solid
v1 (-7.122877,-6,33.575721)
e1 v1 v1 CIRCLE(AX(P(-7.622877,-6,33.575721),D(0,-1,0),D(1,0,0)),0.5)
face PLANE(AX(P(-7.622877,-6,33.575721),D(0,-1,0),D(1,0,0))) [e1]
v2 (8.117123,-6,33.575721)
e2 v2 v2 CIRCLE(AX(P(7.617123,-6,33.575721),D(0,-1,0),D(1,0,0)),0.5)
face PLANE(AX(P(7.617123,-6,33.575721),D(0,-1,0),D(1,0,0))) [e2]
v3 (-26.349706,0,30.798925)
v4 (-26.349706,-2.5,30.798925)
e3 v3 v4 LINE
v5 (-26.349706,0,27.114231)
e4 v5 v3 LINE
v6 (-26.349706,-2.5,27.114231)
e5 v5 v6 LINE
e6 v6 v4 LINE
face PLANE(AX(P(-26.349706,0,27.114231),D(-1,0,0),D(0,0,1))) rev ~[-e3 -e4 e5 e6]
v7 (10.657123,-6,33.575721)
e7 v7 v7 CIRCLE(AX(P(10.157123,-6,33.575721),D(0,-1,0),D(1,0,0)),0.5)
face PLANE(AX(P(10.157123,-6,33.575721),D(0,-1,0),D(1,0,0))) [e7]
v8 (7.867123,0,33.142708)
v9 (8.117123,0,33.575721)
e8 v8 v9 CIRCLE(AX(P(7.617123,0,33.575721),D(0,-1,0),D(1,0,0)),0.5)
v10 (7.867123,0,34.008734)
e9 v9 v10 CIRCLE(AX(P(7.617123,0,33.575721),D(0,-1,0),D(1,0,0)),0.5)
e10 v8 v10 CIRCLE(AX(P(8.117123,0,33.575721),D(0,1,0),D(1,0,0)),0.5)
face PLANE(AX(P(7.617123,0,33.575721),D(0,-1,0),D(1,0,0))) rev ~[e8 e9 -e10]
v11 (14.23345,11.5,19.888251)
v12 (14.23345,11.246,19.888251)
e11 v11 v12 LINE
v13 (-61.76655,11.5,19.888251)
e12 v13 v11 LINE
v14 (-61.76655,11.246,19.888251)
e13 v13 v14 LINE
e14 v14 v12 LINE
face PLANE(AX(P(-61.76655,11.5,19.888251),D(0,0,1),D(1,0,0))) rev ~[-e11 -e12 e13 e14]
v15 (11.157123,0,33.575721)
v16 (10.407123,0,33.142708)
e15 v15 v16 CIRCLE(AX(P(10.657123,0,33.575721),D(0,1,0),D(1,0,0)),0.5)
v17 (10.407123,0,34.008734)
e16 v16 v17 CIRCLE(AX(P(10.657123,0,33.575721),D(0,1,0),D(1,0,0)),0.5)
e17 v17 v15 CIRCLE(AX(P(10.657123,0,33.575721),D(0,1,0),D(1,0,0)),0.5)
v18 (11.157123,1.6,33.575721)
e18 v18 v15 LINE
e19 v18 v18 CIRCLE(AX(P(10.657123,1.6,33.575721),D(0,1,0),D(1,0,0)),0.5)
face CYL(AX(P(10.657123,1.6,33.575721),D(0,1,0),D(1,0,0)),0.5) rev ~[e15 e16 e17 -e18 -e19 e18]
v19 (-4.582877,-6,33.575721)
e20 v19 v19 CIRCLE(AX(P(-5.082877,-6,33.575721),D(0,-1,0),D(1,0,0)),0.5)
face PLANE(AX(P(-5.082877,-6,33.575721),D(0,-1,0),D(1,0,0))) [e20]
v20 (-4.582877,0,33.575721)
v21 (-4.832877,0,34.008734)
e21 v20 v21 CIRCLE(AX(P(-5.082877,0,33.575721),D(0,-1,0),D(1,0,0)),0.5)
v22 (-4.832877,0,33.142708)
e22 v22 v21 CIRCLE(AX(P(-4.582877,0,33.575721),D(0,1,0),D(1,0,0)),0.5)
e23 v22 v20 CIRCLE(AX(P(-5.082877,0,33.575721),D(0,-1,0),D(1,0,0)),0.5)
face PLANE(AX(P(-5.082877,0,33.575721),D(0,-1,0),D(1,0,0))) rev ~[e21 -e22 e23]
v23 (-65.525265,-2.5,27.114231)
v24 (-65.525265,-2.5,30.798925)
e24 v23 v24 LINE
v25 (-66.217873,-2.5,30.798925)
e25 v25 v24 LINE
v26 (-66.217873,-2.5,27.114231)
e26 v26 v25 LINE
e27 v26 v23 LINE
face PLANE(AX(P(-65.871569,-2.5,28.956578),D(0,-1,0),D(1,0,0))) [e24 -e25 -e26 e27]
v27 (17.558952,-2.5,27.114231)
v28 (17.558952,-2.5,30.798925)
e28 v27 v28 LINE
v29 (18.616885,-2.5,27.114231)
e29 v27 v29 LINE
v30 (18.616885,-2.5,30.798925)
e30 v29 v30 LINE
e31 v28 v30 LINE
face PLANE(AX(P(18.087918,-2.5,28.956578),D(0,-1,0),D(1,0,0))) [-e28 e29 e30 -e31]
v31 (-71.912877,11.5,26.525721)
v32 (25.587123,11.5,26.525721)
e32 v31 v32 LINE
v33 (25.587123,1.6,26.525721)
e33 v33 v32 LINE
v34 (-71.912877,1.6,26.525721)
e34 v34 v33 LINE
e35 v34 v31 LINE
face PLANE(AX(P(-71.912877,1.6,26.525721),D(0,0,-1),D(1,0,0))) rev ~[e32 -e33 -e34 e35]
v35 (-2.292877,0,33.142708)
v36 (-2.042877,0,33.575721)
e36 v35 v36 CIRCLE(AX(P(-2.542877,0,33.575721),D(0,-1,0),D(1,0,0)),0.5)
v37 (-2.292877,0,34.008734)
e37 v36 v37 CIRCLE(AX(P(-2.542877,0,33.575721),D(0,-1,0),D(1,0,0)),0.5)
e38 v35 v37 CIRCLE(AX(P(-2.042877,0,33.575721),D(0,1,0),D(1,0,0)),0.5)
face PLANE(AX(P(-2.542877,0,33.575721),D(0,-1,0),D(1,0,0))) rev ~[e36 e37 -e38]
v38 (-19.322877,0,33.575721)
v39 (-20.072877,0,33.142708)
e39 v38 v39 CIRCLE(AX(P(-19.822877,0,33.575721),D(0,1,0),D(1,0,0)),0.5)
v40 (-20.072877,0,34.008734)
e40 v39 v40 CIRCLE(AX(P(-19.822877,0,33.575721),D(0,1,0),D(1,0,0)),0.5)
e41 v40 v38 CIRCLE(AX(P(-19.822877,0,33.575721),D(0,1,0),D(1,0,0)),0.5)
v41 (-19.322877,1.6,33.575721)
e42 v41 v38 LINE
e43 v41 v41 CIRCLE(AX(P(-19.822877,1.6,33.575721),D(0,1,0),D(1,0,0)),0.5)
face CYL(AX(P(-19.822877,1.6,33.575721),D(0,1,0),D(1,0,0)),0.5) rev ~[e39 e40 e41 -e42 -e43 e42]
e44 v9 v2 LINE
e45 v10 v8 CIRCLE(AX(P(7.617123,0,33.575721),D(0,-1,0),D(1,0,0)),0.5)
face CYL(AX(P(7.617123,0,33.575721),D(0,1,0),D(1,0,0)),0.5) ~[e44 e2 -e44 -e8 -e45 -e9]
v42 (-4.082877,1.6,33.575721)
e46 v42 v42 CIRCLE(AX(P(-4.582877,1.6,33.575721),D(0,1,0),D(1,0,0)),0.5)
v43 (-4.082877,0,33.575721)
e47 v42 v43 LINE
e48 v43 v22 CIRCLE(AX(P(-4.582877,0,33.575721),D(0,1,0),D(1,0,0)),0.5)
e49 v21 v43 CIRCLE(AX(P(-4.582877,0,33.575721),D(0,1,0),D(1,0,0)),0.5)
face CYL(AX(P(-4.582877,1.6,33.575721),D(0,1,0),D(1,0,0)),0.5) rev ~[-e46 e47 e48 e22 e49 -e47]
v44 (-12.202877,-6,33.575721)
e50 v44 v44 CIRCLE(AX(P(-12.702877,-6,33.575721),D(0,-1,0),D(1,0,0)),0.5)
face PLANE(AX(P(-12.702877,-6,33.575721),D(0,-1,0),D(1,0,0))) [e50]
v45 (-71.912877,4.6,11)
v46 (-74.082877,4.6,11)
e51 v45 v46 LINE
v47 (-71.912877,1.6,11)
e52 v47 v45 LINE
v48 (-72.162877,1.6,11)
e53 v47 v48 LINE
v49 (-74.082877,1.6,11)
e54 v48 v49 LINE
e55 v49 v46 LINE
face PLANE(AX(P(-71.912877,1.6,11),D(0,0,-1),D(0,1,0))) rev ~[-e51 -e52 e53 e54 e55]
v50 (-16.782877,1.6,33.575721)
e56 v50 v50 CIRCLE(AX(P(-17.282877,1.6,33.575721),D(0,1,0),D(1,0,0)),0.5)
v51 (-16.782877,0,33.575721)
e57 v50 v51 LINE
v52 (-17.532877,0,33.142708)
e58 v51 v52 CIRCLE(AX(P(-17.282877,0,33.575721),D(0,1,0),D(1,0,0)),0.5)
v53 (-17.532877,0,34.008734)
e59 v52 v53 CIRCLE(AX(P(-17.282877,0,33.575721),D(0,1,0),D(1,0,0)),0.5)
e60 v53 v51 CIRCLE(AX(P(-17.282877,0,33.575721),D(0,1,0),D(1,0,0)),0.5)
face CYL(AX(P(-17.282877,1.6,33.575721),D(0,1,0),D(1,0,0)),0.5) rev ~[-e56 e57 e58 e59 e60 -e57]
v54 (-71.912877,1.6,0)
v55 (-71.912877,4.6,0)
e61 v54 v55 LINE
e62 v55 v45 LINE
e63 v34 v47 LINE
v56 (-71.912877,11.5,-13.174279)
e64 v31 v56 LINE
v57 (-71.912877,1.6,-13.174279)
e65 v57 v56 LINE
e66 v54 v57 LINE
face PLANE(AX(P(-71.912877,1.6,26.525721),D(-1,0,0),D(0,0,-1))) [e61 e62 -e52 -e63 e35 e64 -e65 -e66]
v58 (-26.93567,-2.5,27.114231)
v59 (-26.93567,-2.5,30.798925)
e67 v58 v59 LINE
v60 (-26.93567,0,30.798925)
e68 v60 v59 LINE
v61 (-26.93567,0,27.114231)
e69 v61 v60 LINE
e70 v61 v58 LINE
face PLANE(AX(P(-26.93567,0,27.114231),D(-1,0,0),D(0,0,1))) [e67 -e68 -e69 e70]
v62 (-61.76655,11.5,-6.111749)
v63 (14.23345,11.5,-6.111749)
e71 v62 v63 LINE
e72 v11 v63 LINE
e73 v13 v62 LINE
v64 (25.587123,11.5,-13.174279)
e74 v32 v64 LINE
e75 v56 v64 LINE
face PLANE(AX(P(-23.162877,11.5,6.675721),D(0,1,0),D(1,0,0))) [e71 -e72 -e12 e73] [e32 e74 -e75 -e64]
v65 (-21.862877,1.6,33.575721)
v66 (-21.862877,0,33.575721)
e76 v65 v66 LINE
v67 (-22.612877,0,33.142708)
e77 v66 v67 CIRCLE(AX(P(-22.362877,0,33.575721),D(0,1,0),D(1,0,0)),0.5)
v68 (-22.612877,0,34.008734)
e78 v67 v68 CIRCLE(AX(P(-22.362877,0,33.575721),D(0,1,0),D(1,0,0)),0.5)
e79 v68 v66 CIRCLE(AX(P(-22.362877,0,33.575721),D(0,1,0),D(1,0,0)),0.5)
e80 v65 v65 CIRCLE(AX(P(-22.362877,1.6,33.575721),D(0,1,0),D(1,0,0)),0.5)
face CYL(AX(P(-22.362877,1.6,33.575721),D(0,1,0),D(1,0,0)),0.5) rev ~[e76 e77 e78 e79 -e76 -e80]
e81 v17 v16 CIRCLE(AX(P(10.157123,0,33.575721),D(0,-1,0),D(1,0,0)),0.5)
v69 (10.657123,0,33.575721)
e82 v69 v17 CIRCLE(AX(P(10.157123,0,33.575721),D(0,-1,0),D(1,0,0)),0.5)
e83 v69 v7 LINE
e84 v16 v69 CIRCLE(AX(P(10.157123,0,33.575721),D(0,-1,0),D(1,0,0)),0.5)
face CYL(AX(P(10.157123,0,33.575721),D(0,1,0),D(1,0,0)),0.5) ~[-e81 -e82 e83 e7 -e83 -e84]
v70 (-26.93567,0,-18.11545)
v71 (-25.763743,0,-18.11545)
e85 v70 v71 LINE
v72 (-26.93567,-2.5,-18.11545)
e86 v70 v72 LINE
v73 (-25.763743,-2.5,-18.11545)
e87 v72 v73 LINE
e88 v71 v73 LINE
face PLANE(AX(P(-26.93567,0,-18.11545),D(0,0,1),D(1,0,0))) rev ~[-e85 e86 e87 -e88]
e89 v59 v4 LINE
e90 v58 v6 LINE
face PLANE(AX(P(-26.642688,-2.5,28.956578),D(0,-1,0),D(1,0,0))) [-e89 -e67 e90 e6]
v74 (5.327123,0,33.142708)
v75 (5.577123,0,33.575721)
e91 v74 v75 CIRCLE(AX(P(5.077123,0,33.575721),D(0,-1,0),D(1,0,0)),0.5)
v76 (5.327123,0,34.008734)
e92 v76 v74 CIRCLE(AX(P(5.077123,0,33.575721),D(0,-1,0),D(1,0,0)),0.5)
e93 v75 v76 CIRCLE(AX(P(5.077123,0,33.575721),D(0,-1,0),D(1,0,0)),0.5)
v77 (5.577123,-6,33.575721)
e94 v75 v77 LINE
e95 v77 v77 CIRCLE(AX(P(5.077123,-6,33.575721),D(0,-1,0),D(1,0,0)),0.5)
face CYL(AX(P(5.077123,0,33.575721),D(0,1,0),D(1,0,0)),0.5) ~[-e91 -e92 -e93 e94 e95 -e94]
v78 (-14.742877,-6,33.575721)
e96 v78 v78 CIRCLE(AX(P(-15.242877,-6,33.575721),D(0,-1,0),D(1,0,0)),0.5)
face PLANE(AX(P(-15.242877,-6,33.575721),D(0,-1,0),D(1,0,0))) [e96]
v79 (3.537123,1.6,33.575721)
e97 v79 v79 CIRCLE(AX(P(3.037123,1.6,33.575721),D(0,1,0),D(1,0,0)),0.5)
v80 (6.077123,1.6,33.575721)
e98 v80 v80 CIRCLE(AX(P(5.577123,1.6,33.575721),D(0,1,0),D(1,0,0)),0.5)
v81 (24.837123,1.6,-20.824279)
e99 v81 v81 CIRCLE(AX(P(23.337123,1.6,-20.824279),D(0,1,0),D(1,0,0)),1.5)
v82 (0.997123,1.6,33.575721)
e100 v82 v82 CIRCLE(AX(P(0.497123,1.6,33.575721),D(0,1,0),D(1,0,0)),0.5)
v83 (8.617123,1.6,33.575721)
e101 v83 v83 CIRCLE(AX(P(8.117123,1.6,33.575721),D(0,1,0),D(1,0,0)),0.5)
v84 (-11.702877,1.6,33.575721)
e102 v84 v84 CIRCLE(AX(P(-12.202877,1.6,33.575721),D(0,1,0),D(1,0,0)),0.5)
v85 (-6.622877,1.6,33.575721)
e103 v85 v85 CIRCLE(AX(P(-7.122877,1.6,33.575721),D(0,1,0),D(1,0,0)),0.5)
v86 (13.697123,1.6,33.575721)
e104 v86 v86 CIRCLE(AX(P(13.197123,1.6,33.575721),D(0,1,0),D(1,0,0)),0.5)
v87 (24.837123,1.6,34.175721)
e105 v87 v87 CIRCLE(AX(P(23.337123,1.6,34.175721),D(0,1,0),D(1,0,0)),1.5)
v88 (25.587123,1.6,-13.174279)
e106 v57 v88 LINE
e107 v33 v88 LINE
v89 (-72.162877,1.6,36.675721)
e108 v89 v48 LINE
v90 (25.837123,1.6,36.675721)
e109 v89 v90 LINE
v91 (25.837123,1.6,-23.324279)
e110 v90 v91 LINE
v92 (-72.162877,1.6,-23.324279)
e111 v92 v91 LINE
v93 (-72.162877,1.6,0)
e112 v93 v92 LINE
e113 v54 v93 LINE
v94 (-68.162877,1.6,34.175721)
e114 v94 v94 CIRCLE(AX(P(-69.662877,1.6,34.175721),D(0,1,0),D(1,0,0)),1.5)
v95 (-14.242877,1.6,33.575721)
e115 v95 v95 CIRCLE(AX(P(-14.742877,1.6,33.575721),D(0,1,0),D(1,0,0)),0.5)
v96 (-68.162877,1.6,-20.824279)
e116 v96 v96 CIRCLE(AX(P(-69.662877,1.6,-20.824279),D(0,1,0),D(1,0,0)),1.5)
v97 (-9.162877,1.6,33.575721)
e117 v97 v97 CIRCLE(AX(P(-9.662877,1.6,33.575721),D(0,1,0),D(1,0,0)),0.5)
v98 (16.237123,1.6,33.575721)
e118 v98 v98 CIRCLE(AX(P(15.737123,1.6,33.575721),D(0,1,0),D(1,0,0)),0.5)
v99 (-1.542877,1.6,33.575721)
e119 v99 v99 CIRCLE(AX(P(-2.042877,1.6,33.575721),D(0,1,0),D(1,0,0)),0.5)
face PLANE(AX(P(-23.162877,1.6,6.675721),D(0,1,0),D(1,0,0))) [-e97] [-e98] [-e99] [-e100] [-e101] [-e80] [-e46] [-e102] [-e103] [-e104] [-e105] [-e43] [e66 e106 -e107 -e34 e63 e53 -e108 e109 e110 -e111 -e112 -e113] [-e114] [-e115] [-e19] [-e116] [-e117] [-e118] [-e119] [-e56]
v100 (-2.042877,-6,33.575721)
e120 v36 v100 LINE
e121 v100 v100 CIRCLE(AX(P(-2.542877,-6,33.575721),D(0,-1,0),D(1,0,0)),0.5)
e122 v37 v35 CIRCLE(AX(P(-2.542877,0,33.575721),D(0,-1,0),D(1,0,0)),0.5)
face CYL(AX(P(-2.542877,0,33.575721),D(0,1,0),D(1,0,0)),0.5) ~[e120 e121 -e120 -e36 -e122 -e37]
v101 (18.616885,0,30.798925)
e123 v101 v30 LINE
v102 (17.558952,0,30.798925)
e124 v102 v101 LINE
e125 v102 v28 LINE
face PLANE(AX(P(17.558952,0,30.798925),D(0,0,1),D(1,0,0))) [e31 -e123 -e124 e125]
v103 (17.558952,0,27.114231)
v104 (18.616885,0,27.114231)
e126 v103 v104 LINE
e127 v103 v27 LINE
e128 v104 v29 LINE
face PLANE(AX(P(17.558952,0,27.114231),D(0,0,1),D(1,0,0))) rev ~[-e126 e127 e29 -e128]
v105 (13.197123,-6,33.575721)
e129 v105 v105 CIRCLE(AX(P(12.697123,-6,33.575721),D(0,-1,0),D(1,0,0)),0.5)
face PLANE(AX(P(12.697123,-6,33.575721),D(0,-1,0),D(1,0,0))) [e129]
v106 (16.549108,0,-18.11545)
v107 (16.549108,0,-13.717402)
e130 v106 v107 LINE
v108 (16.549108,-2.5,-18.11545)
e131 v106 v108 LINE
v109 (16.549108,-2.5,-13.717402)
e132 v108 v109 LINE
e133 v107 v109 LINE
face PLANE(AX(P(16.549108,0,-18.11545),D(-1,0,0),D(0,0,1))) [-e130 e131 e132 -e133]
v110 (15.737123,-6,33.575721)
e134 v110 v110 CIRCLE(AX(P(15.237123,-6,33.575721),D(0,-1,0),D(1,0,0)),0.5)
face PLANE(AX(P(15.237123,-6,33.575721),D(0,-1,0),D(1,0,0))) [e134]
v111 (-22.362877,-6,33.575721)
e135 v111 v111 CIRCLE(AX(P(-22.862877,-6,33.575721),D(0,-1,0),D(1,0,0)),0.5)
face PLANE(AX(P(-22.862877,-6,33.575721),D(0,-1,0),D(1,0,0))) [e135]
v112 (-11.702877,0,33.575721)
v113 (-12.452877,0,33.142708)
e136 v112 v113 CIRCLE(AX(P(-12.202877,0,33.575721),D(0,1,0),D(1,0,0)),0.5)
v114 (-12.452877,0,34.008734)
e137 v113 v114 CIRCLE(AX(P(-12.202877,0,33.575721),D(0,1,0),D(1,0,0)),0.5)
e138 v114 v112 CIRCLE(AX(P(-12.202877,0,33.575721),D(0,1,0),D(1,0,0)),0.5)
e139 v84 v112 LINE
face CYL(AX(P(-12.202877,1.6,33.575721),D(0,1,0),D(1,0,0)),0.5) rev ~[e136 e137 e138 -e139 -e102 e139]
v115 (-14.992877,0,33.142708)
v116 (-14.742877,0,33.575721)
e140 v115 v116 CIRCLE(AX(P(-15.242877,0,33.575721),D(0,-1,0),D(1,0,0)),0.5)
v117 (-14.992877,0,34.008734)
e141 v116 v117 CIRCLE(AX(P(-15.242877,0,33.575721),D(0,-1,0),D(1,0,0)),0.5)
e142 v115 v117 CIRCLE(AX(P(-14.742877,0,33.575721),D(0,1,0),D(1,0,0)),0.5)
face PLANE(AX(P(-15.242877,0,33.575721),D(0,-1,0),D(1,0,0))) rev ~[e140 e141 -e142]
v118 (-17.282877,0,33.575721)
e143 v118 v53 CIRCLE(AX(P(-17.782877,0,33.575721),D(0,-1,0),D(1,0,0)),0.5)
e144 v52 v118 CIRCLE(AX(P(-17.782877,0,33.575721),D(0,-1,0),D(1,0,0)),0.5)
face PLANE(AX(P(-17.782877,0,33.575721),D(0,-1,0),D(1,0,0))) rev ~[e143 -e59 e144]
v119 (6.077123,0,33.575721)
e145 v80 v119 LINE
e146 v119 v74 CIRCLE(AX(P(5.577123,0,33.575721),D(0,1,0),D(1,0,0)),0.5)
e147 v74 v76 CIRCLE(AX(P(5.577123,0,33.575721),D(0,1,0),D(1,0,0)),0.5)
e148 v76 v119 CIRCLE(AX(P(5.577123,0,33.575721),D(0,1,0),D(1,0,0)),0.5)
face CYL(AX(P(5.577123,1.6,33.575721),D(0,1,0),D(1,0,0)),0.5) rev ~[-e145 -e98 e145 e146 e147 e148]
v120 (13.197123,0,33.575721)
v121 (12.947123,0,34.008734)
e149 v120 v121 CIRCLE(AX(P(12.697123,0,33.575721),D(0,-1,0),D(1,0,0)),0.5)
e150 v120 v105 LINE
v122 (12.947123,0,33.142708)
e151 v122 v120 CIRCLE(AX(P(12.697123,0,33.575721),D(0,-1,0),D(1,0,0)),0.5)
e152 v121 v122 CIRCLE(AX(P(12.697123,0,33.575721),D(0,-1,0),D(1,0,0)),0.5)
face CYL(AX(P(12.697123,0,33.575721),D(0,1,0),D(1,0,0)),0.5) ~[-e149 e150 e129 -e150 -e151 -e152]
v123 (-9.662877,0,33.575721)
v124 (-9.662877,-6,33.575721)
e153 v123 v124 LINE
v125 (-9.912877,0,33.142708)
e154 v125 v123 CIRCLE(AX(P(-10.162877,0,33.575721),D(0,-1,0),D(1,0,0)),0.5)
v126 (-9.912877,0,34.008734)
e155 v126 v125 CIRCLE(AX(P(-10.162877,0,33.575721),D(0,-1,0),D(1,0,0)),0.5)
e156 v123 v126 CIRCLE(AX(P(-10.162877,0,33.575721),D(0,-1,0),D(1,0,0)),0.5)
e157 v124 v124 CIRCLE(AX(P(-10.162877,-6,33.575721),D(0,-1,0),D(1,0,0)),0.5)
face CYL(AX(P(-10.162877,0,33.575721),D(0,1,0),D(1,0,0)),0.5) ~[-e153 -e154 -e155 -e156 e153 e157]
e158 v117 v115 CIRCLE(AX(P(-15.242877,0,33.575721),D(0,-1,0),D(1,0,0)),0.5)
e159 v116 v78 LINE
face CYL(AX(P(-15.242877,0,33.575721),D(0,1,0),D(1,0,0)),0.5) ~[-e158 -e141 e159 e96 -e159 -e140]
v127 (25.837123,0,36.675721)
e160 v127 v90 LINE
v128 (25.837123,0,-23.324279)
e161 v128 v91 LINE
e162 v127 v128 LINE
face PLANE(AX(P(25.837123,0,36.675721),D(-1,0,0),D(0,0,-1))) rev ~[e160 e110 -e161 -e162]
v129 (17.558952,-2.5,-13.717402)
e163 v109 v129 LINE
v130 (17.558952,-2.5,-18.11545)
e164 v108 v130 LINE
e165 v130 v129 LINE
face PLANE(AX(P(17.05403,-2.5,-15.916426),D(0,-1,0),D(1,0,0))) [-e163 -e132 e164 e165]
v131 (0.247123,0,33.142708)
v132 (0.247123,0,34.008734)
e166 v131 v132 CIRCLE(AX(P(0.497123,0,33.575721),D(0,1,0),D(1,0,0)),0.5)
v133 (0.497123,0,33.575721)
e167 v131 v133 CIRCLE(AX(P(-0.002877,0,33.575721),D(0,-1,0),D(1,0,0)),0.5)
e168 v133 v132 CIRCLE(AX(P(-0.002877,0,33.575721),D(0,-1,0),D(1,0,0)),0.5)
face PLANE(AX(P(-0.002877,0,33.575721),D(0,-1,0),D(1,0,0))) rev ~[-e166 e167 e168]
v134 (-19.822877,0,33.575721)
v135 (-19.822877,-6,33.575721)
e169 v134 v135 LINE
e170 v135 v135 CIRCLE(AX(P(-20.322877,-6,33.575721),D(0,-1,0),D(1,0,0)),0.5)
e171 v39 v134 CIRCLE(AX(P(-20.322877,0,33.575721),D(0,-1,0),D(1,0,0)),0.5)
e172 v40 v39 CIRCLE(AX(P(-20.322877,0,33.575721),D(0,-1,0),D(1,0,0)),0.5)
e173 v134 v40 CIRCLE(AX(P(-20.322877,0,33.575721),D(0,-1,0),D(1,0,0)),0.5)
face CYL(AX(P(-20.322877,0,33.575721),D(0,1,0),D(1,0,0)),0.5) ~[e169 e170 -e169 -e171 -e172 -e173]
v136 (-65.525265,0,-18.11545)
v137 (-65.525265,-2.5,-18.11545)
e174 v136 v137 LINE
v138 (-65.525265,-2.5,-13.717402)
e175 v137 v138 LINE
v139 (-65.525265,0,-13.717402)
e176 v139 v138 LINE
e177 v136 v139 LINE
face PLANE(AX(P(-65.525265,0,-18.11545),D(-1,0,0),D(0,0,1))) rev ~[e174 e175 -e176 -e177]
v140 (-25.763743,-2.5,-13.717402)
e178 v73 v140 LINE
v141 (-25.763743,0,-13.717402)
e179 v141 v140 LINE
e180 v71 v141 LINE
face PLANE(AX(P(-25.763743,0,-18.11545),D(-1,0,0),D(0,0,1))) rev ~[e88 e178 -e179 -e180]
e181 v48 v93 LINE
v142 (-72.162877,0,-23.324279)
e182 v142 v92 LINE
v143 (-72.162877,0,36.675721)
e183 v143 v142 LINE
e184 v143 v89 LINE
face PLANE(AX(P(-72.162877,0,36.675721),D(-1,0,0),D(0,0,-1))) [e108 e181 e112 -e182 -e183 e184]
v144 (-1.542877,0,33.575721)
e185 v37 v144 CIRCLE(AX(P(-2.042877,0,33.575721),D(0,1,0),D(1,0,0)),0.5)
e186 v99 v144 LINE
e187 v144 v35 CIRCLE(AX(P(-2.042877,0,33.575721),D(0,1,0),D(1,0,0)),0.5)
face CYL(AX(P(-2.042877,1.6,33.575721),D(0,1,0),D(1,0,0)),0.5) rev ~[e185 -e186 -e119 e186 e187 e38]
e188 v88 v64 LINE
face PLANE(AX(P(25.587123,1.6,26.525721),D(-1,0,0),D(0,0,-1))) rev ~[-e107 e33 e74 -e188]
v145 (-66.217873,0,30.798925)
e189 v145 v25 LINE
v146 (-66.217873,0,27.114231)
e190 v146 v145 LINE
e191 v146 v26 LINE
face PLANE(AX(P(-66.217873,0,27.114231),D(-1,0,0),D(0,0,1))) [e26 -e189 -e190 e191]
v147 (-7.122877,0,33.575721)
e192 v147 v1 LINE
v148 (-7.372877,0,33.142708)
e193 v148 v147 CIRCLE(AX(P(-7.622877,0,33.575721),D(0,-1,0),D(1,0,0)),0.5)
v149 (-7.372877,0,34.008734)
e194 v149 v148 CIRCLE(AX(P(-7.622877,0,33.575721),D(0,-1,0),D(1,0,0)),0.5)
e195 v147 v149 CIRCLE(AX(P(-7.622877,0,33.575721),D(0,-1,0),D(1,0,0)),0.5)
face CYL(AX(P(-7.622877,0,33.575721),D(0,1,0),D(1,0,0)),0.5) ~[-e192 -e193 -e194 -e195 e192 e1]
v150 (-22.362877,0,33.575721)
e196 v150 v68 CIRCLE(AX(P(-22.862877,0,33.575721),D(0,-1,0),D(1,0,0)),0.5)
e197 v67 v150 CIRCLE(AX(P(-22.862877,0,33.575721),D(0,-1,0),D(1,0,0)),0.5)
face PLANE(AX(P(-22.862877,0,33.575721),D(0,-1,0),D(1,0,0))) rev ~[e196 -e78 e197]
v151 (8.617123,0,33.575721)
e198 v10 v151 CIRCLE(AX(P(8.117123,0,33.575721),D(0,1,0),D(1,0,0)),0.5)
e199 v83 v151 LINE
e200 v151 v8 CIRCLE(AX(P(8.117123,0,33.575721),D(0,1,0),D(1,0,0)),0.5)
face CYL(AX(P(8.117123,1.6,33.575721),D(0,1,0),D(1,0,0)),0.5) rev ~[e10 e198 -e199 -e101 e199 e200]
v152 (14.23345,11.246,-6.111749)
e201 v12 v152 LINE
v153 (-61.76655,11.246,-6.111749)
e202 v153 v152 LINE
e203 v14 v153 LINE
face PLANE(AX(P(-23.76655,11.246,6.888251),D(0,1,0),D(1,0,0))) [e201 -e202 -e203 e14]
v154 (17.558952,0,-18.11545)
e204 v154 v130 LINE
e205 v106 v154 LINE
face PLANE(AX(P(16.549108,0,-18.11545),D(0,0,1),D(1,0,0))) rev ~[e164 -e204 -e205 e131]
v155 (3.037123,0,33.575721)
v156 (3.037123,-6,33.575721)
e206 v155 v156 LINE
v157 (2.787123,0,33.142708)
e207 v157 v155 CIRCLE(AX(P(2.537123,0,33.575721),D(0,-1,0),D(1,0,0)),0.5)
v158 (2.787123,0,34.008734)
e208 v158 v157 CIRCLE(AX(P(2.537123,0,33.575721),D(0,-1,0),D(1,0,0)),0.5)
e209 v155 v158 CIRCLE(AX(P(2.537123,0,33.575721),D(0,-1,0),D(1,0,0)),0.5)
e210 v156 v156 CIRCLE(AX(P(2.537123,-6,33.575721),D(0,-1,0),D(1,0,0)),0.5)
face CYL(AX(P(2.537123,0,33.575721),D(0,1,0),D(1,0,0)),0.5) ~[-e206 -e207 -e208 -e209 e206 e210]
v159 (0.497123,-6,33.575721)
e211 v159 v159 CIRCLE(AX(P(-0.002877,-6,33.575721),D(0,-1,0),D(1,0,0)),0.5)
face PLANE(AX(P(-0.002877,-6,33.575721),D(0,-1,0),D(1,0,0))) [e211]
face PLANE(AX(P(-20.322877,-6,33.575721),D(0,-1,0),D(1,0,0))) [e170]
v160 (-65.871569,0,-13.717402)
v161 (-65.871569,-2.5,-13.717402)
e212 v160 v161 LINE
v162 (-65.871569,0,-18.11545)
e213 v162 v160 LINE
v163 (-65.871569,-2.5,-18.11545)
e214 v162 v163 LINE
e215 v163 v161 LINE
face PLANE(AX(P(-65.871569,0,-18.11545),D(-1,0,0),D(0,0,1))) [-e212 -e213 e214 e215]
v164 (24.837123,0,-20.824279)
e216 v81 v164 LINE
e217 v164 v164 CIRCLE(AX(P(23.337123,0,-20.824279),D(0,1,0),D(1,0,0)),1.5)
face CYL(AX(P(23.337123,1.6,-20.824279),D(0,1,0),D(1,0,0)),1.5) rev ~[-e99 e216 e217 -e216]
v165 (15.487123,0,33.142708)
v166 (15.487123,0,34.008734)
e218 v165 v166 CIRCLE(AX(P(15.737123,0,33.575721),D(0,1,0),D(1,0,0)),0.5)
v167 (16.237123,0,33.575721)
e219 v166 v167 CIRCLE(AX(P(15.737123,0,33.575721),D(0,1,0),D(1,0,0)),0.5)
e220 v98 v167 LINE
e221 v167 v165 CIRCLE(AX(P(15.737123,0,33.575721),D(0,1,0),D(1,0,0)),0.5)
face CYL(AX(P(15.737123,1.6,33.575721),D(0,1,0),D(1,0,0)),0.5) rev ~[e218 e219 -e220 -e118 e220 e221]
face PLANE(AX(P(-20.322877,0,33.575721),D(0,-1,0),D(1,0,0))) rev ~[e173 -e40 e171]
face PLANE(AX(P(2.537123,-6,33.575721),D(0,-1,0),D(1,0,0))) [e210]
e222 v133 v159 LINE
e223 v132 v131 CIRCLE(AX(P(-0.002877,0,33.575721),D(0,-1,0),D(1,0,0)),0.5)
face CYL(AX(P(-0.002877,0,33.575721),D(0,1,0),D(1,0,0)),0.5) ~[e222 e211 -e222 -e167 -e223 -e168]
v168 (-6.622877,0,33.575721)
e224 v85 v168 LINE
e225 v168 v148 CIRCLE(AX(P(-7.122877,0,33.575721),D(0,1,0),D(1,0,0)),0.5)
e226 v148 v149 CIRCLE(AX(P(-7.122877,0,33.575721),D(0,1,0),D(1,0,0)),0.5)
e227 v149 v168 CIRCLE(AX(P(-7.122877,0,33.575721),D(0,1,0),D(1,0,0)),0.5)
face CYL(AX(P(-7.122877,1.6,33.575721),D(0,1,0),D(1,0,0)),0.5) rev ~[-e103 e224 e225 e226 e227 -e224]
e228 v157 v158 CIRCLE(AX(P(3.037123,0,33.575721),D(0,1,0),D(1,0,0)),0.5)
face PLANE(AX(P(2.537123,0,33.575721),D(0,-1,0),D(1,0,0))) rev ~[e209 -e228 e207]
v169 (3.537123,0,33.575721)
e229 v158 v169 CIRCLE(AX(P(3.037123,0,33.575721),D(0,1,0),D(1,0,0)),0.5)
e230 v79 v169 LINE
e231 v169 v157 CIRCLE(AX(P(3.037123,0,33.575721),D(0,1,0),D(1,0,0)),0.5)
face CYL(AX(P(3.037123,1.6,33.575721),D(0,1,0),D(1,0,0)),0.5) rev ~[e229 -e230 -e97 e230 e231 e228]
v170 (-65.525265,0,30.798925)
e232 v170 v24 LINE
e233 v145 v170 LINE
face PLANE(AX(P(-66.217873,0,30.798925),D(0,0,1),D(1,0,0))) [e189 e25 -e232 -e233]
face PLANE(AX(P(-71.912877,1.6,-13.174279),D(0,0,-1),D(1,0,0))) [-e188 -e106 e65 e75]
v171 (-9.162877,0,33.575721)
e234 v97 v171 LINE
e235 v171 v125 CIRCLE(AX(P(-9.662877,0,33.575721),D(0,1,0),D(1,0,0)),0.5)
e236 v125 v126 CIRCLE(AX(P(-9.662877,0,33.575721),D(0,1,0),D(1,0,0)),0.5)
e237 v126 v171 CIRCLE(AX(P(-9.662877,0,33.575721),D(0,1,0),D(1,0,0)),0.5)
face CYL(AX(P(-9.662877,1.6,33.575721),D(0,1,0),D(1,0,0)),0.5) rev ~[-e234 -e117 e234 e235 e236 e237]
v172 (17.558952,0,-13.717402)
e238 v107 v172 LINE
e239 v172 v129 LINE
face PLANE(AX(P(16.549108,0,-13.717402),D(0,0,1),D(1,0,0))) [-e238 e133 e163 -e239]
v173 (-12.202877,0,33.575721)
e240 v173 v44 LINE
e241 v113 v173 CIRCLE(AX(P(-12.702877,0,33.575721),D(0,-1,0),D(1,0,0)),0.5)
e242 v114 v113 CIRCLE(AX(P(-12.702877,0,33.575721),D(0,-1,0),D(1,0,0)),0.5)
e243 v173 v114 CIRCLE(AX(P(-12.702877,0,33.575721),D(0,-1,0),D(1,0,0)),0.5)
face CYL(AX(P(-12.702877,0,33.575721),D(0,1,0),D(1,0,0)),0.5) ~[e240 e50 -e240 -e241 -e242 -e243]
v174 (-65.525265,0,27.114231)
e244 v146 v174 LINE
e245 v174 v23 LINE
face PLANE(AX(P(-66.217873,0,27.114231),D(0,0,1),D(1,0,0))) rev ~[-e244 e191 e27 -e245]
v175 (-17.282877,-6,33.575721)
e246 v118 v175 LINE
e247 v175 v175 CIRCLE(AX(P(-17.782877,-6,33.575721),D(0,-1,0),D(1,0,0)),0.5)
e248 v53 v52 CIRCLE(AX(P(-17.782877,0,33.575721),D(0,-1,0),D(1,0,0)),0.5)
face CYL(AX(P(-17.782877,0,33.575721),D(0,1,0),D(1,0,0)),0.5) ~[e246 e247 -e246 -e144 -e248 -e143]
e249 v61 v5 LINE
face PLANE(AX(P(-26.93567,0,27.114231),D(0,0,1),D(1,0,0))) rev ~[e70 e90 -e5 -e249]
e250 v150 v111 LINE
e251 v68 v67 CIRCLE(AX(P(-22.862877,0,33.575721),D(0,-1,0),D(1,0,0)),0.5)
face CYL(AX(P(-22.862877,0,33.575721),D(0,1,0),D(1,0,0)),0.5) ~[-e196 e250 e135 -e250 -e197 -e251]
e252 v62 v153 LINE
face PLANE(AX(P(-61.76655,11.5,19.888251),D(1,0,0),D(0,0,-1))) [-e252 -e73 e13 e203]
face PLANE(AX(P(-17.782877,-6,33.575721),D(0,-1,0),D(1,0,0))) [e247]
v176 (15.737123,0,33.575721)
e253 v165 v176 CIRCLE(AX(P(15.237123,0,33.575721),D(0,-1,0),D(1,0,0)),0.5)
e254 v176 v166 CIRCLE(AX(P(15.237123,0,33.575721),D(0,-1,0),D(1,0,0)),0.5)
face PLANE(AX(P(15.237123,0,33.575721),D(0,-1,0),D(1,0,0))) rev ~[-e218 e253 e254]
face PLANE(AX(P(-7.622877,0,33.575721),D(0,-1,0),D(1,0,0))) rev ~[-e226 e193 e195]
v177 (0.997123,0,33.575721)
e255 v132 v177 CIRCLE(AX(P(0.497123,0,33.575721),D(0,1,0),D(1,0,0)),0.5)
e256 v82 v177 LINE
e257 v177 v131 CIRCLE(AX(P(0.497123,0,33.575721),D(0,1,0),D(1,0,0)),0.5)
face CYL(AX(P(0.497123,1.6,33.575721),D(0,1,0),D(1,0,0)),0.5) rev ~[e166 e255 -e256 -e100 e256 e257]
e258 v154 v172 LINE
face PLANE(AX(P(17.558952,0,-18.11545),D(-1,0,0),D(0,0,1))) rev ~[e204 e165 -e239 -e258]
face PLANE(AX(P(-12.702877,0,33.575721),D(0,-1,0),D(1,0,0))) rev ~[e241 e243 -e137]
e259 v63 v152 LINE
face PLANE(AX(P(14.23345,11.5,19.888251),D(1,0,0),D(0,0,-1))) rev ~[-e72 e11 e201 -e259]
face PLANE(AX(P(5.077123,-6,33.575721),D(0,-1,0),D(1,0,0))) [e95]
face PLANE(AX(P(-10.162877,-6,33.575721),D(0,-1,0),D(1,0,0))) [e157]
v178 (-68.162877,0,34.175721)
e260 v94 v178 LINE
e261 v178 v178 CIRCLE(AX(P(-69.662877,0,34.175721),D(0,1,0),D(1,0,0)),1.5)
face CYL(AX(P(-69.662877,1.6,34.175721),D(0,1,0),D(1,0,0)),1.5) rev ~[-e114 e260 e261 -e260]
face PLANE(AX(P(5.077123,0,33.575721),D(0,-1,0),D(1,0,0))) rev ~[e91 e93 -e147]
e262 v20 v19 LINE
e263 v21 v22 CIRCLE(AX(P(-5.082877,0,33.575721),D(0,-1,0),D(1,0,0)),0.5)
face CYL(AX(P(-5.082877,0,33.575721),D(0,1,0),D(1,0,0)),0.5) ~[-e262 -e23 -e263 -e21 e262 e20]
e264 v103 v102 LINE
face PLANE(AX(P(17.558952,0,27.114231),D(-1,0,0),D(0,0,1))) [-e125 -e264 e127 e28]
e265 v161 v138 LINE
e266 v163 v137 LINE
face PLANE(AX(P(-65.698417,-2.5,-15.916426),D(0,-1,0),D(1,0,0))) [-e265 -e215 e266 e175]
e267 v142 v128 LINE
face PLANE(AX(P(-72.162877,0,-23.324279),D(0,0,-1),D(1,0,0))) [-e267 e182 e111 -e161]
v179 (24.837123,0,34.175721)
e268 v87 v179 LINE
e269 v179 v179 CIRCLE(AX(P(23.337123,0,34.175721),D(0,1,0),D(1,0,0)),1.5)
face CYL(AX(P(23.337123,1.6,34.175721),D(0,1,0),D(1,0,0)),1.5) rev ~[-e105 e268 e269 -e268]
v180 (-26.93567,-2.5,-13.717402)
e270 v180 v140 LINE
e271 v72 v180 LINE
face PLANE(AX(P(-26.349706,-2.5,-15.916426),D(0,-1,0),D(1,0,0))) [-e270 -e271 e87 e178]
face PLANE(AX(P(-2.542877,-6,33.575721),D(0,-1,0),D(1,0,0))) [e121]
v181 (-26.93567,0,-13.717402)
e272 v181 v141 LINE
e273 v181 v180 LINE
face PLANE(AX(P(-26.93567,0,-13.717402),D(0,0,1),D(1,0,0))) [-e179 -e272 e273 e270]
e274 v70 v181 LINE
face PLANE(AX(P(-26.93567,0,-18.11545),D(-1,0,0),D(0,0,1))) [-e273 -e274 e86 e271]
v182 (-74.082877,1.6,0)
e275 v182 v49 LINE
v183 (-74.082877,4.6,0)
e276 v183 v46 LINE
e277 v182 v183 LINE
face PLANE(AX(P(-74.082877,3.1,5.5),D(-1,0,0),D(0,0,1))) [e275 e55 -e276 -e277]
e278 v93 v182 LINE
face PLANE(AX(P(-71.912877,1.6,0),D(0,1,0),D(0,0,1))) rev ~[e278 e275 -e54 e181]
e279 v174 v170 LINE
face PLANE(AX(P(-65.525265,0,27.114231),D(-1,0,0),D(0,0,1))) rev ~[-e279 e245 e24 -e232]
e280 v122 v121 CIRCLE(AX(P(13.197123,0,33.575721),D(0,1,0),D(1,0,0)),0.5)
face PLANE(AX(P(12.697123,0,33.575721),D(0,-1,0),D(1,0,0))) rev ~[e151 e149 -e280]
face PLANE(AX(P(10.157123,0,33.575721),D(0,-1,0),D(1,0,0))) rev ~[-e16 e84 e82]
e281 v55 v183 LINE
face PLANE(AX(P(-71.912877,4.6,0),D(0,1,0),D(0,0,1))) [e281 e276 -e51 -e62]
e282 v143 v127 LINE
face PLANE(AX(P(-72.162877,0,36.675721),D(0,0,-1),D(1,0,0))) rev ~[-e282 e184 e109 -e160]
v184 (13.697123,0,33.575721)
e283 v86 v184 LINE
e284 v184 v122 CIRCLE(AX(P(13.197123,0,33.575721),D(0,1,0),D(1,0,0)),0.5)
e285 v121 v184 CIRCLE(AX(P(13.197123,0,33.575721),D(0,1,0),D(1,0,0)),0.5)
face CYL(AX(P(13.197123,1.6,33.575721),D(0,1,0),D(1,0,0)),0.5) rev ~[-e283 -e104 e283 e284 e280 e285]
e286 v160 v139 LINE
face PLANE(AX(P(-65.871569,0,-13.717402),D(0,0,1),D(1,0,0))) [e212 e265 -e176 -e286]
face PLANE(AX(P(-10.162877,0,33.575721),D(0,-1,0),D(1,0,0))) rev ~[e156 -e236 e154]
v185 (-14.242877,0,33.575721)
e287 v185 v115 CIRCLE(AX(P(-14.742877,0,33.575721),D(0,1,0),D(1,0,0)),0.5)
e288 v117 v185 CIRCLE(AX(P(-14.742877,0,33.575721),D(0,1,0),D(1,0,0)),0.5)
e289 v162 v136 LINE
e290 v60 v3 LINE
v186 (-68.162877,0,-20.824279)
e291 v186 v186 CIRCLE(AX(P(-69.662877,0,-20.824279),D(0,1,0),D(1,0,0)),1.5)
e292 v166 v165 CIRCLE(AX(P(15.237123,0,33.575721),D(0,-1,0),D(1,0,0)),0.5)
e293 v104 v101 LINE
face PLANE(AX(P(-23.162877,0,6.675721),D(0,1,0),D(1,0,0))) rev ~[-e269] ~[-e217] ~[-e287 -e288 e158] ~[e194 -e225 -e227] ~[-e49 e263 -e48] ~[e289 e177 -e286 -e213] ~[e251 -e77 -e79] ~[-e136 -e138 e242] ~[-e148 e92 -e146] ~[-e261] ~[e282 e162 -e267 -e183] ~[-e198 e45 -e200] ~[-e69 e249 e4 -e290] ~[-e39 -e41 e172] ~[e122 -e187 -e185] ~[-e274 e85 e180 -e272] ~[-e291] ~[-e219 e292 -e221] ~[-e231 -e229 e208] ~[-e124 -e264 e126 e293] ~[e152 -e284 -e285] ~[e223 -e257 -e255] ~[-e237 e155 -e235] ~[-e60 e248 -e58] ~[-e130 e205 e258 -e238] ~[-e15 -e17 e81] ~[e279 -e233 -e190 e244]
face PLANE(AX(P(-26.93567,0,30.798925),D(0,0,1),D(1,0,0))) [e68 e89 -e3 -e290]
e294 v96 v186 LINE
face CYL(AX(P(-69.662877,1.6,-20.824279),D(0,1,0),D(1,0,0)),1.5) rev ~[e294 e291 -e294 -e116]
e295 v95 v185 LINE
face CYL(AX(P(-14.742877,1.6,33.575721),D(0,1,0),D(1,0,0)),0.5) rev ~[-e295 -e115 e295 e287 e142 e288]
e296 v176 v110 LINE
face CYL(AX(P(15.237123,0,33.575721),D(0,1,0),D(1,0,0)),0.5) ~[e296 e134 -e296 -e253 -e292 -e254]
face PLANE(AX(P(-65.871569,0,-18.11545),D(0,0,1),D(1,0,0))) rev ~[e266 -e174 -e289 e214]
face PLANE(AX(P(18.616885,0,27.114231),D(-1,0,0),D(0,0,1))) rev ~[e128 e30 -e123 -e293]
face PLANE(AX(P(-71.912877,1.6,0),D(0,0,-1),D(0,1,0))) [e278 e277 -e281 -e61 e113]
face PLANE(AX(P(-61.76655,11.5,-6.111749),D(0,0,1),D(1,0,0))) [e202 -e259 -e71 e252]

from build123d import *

# Parameters (mm, degrees)
SKETCH1_W                        = 98
SKETCH1_H                        = 60
PCB_BOARD_DEPTH                  = 1.6
SKETCH4_R                        = 1.5
MOUNTING_HOLES_DEPTH             = 1.6
SKETCH5_R                        = 0.5
PCB_HOLES_DEPTH                  = 1.6
SKETCH6_R                        = 0.5
HEADERS_DEPTH                    = 6
SKETCH2_W                        = 97.5
SKETCH2_H                        = 39.7
BLACK_LCD_FRAME_DEPTH            = 9.9
SKETCH7_W                        = 11
SKETCH7_H                        = 3
WHITE_PART_THAT_STICKS_OUT_DEPTH = 2.17
SKETCH3_W                        = 76
SKETCH3_H                        = 26
LCD_SCREEN_DEPTH                 = 0.254
SKETCH8_W                        = 0.692608048
SKETCH8_H                        = 3.684694504
SKETCH8_W_2                      = 0.346304024
SKETCH8_H_2                      = 4.398048289
SKETCH8_W_3                      = 1.171927017
SKETCH8_W_4                      = 1.009844095
SKETCH8_W_5                      = 1.057933222
SKETCH8_W_6                      = 0.585963509
BOSS_EXTRUDE1_DEPTH              = 2.5


with BuildPart() as part:
    # Sketch1 → PCB board (new body)
    with BuildSketch(Plane(origin=(0, 0, 0), x_dir=(1, 0, 0), z_dir=(0, 1, 0))):
        with Locations((-23.16287695, -6.675720991)):
            Rectangle(SKETCH1_W, SKETCH1_H)
    extrude(amount=PCB_BOARD_DEPTH)

    # Sketch4 → Mounting holes (cut)
    with BuildSketch(Plane(origin=(0, 1.6, 0), x_dir=(1, 0, 0), z_dir=(0, 1, 0))):
        with Locations((23.33712305, 20.824279009)):
            Circle(SKETCH4_R)
        with Locations((-69.66287695, -34.175720991)):
            Circle(SKETCH4_R)
        with Locations((-69.66287695, 20.824279009)):
            Circle(SKETCH4_R)
        with Locations((23.33712305, -34.175720991)):
            Circle(SKETCH4_R)
    extrude(amount=-MOUNTING_HOLES_DEPTH, mode=Mode.SUBTRACT)

    # Sketch5 → PCB holes (cut)
    with BuildSketch(Plane(origin=(0, 1.6, 0), x_dir=(1, 0, 0), z_dir=(0, 1, 0))):
        with Locations((15.73712305, -33.575720991)):
            Circle(SKETCH5_R)
        with Locations((13.19712305, -33.575720991)):
            Circle(SKETCH5_R)
        with Locations((10.65712305, -33.575720991)):
            Circle(SKETCH5_R)
        with Locations((8.11712305, -33.575720991)):
            Circle(SKETCH5_R)
        with Locations((5.57712305, -33.575720991)):
            Circle(SKETCH5_R)
        with Locations((3.03712305, -33.575720991)):
            Circle(SKETCH5_R)
        with Locations((0.49712305, -33.575720991)):
            Circle(SKETCH5_R)
        with Locations((-2.04287695, -33.575720991)):
            Circle(SKETCH5_R)
        with Locations((-4.58287695, -33.575720991)):
            Circle(SKETCH5_R)
        with Locations((-7.12287695, -33.575720991)):
            Circle(SKETCH5_R)
        with Locations((-9.66287695, -33.575720991)):
            Circle(SKETCH5_R)
        with Locations((-12.20287695, -33.575720991)):
            Circle(SKETCH5_R)
        with Locations((-14.74287695, -33.575720991)):
            Circle(SKETCH5_R)
        with Locations((-17.28287695, -33.575720991)):
            Circle(SKETCH5_R)
        with Locations((-19.82287695, -33.575720991)):
            Circle(SKETCH5_R)
        with Locations((-22.36287695, -33.575720991)):
            Circle(SKETCH5_R)
    extrude(amount=-PCB_HOLES_DEPTH, mode=Mode.SUBTRACT)

    # Sketch6 → Headers (add)
    with BuildSketch(Plane.XZ):
        with Locations((-22.86287695, 33.575720991)):
            Circle(SKETCH6_R)
        with Locations((-20.32287695, 33.575720991)):
            Circle(SKETCH6_R)
        with Locations((-17.78287695, 33.575720991)):
            Circle(SKETCH6_R)
        with Locations((-15.24287695, 33.575720991)):
            Circle(SKETCH6_R)
        with Locations((-12.70287695, 33.575720991)):
            Circle(SKETCH6_R)
        with Locations((-10.16287695, 33.575720991)):
            Circle(SKETCH6_R)
        with Locations((-7.62287695, 33.575720991)):
            Circle(SKETCH6_R)
        with Locations((-5.08287695, 33.575720991)):
            Circle(SKETCH6_R)
        with Locations((-2.54287695, 33.575720991)):
            Circle(SKETCH6_R)
        with Locations((-0.00287695, 33.575720991)):
            Circle(SKETCH6_R)
        with Locations((2.53712305, 33.575720991)):
            Circle(SKETCH6_R)
        with Locations((5.07712305, 33.575720991)):
            Circle(SKETCH6_R)
        with Locations((7.61712305, 33.575720991)):
            Circle(SKETCH6_R)
        with Locations((10.15712305, 33.575720991)):
            Circle(SKETCH6_R)
        with Locations((12.69712305, 33.575720991)):
            Circle(SKETCH6_R)
        with Locations((15.23712305, 33.575720991)):
            Circle(SKETCH6_R)
    extrude(amount=HEADERS_DEPTH)

    # Sketch2 → Black LCD frame (add)
    with BuildSketch(Plane(origin=(0, 1.6, 0), x_dir=(1, 0, 0), z_dir=(0, 1, 0))):
        with Locations((-23.16287695, -6.675720991)):
            Rectangle(SKETCH2_W, SKETCH2_H)
    extrude(amount=BLACK_LCD_FRAME_DEPTH)

    # Sketch7 → White part that sticks out (add)
    with BuildSketch(Plane.ZY.offset(71.91287695)):
        with Locations((5.5, 3.1)):
            Rectangle(SKETCH7_W, SKETCH7_H)
    extrude(amount=WHITE_PART_THAT_STICKS_OUT_DEPTH)

    # Sketch3 → LCD screen (cut)
    with BuildSketch(Plane(origin=(0, 11.5, 0), x_dir=(1, 0, 0), z_dir=(0, 1, 0))):
        with Locations((-23.766549937, -6.888251248)):
            Rectangle(SKETCH3_W, SKETCH3_H)
    extrude(amount=-LCD_SCREEN_DEPTH, mode=Mode.SUBTRACT)

    # Sketch8 → Boss-Extrude1 (add)
    with BuildSketch(Plane.XZ):
        with Locations((-65.871568973, 28.956578117)):
            Rectangle(SKETCH8_W, SKETCH8_H)
        with Locations((-65.698416961, -15.916426138)):
            Rectangle(SKETCH8_W_2, SKETCH8_H_2)
        with Locations((-26.349706369, -15.916426138)):
            Rectangle(SKETCH8_W_3, SKETCH8_H_2)
        with Locations((17.054029789, -15.916426138)):
            Rectangle(SKETCH8_W_4, SKETCH8_H_2)
        with Locations((18.087918447, 28.956578117)):
            Rectangle(SKETCH8_W_5, SKETCH8_H)
        with Locations((-26.642688123, 28.956578117)):
            Rectangle(SKETCH8_W_6, SKETCH8_H)
    extrude(amount=BOSS_EXTRUDE1_DEPTH)


solid = part.part
